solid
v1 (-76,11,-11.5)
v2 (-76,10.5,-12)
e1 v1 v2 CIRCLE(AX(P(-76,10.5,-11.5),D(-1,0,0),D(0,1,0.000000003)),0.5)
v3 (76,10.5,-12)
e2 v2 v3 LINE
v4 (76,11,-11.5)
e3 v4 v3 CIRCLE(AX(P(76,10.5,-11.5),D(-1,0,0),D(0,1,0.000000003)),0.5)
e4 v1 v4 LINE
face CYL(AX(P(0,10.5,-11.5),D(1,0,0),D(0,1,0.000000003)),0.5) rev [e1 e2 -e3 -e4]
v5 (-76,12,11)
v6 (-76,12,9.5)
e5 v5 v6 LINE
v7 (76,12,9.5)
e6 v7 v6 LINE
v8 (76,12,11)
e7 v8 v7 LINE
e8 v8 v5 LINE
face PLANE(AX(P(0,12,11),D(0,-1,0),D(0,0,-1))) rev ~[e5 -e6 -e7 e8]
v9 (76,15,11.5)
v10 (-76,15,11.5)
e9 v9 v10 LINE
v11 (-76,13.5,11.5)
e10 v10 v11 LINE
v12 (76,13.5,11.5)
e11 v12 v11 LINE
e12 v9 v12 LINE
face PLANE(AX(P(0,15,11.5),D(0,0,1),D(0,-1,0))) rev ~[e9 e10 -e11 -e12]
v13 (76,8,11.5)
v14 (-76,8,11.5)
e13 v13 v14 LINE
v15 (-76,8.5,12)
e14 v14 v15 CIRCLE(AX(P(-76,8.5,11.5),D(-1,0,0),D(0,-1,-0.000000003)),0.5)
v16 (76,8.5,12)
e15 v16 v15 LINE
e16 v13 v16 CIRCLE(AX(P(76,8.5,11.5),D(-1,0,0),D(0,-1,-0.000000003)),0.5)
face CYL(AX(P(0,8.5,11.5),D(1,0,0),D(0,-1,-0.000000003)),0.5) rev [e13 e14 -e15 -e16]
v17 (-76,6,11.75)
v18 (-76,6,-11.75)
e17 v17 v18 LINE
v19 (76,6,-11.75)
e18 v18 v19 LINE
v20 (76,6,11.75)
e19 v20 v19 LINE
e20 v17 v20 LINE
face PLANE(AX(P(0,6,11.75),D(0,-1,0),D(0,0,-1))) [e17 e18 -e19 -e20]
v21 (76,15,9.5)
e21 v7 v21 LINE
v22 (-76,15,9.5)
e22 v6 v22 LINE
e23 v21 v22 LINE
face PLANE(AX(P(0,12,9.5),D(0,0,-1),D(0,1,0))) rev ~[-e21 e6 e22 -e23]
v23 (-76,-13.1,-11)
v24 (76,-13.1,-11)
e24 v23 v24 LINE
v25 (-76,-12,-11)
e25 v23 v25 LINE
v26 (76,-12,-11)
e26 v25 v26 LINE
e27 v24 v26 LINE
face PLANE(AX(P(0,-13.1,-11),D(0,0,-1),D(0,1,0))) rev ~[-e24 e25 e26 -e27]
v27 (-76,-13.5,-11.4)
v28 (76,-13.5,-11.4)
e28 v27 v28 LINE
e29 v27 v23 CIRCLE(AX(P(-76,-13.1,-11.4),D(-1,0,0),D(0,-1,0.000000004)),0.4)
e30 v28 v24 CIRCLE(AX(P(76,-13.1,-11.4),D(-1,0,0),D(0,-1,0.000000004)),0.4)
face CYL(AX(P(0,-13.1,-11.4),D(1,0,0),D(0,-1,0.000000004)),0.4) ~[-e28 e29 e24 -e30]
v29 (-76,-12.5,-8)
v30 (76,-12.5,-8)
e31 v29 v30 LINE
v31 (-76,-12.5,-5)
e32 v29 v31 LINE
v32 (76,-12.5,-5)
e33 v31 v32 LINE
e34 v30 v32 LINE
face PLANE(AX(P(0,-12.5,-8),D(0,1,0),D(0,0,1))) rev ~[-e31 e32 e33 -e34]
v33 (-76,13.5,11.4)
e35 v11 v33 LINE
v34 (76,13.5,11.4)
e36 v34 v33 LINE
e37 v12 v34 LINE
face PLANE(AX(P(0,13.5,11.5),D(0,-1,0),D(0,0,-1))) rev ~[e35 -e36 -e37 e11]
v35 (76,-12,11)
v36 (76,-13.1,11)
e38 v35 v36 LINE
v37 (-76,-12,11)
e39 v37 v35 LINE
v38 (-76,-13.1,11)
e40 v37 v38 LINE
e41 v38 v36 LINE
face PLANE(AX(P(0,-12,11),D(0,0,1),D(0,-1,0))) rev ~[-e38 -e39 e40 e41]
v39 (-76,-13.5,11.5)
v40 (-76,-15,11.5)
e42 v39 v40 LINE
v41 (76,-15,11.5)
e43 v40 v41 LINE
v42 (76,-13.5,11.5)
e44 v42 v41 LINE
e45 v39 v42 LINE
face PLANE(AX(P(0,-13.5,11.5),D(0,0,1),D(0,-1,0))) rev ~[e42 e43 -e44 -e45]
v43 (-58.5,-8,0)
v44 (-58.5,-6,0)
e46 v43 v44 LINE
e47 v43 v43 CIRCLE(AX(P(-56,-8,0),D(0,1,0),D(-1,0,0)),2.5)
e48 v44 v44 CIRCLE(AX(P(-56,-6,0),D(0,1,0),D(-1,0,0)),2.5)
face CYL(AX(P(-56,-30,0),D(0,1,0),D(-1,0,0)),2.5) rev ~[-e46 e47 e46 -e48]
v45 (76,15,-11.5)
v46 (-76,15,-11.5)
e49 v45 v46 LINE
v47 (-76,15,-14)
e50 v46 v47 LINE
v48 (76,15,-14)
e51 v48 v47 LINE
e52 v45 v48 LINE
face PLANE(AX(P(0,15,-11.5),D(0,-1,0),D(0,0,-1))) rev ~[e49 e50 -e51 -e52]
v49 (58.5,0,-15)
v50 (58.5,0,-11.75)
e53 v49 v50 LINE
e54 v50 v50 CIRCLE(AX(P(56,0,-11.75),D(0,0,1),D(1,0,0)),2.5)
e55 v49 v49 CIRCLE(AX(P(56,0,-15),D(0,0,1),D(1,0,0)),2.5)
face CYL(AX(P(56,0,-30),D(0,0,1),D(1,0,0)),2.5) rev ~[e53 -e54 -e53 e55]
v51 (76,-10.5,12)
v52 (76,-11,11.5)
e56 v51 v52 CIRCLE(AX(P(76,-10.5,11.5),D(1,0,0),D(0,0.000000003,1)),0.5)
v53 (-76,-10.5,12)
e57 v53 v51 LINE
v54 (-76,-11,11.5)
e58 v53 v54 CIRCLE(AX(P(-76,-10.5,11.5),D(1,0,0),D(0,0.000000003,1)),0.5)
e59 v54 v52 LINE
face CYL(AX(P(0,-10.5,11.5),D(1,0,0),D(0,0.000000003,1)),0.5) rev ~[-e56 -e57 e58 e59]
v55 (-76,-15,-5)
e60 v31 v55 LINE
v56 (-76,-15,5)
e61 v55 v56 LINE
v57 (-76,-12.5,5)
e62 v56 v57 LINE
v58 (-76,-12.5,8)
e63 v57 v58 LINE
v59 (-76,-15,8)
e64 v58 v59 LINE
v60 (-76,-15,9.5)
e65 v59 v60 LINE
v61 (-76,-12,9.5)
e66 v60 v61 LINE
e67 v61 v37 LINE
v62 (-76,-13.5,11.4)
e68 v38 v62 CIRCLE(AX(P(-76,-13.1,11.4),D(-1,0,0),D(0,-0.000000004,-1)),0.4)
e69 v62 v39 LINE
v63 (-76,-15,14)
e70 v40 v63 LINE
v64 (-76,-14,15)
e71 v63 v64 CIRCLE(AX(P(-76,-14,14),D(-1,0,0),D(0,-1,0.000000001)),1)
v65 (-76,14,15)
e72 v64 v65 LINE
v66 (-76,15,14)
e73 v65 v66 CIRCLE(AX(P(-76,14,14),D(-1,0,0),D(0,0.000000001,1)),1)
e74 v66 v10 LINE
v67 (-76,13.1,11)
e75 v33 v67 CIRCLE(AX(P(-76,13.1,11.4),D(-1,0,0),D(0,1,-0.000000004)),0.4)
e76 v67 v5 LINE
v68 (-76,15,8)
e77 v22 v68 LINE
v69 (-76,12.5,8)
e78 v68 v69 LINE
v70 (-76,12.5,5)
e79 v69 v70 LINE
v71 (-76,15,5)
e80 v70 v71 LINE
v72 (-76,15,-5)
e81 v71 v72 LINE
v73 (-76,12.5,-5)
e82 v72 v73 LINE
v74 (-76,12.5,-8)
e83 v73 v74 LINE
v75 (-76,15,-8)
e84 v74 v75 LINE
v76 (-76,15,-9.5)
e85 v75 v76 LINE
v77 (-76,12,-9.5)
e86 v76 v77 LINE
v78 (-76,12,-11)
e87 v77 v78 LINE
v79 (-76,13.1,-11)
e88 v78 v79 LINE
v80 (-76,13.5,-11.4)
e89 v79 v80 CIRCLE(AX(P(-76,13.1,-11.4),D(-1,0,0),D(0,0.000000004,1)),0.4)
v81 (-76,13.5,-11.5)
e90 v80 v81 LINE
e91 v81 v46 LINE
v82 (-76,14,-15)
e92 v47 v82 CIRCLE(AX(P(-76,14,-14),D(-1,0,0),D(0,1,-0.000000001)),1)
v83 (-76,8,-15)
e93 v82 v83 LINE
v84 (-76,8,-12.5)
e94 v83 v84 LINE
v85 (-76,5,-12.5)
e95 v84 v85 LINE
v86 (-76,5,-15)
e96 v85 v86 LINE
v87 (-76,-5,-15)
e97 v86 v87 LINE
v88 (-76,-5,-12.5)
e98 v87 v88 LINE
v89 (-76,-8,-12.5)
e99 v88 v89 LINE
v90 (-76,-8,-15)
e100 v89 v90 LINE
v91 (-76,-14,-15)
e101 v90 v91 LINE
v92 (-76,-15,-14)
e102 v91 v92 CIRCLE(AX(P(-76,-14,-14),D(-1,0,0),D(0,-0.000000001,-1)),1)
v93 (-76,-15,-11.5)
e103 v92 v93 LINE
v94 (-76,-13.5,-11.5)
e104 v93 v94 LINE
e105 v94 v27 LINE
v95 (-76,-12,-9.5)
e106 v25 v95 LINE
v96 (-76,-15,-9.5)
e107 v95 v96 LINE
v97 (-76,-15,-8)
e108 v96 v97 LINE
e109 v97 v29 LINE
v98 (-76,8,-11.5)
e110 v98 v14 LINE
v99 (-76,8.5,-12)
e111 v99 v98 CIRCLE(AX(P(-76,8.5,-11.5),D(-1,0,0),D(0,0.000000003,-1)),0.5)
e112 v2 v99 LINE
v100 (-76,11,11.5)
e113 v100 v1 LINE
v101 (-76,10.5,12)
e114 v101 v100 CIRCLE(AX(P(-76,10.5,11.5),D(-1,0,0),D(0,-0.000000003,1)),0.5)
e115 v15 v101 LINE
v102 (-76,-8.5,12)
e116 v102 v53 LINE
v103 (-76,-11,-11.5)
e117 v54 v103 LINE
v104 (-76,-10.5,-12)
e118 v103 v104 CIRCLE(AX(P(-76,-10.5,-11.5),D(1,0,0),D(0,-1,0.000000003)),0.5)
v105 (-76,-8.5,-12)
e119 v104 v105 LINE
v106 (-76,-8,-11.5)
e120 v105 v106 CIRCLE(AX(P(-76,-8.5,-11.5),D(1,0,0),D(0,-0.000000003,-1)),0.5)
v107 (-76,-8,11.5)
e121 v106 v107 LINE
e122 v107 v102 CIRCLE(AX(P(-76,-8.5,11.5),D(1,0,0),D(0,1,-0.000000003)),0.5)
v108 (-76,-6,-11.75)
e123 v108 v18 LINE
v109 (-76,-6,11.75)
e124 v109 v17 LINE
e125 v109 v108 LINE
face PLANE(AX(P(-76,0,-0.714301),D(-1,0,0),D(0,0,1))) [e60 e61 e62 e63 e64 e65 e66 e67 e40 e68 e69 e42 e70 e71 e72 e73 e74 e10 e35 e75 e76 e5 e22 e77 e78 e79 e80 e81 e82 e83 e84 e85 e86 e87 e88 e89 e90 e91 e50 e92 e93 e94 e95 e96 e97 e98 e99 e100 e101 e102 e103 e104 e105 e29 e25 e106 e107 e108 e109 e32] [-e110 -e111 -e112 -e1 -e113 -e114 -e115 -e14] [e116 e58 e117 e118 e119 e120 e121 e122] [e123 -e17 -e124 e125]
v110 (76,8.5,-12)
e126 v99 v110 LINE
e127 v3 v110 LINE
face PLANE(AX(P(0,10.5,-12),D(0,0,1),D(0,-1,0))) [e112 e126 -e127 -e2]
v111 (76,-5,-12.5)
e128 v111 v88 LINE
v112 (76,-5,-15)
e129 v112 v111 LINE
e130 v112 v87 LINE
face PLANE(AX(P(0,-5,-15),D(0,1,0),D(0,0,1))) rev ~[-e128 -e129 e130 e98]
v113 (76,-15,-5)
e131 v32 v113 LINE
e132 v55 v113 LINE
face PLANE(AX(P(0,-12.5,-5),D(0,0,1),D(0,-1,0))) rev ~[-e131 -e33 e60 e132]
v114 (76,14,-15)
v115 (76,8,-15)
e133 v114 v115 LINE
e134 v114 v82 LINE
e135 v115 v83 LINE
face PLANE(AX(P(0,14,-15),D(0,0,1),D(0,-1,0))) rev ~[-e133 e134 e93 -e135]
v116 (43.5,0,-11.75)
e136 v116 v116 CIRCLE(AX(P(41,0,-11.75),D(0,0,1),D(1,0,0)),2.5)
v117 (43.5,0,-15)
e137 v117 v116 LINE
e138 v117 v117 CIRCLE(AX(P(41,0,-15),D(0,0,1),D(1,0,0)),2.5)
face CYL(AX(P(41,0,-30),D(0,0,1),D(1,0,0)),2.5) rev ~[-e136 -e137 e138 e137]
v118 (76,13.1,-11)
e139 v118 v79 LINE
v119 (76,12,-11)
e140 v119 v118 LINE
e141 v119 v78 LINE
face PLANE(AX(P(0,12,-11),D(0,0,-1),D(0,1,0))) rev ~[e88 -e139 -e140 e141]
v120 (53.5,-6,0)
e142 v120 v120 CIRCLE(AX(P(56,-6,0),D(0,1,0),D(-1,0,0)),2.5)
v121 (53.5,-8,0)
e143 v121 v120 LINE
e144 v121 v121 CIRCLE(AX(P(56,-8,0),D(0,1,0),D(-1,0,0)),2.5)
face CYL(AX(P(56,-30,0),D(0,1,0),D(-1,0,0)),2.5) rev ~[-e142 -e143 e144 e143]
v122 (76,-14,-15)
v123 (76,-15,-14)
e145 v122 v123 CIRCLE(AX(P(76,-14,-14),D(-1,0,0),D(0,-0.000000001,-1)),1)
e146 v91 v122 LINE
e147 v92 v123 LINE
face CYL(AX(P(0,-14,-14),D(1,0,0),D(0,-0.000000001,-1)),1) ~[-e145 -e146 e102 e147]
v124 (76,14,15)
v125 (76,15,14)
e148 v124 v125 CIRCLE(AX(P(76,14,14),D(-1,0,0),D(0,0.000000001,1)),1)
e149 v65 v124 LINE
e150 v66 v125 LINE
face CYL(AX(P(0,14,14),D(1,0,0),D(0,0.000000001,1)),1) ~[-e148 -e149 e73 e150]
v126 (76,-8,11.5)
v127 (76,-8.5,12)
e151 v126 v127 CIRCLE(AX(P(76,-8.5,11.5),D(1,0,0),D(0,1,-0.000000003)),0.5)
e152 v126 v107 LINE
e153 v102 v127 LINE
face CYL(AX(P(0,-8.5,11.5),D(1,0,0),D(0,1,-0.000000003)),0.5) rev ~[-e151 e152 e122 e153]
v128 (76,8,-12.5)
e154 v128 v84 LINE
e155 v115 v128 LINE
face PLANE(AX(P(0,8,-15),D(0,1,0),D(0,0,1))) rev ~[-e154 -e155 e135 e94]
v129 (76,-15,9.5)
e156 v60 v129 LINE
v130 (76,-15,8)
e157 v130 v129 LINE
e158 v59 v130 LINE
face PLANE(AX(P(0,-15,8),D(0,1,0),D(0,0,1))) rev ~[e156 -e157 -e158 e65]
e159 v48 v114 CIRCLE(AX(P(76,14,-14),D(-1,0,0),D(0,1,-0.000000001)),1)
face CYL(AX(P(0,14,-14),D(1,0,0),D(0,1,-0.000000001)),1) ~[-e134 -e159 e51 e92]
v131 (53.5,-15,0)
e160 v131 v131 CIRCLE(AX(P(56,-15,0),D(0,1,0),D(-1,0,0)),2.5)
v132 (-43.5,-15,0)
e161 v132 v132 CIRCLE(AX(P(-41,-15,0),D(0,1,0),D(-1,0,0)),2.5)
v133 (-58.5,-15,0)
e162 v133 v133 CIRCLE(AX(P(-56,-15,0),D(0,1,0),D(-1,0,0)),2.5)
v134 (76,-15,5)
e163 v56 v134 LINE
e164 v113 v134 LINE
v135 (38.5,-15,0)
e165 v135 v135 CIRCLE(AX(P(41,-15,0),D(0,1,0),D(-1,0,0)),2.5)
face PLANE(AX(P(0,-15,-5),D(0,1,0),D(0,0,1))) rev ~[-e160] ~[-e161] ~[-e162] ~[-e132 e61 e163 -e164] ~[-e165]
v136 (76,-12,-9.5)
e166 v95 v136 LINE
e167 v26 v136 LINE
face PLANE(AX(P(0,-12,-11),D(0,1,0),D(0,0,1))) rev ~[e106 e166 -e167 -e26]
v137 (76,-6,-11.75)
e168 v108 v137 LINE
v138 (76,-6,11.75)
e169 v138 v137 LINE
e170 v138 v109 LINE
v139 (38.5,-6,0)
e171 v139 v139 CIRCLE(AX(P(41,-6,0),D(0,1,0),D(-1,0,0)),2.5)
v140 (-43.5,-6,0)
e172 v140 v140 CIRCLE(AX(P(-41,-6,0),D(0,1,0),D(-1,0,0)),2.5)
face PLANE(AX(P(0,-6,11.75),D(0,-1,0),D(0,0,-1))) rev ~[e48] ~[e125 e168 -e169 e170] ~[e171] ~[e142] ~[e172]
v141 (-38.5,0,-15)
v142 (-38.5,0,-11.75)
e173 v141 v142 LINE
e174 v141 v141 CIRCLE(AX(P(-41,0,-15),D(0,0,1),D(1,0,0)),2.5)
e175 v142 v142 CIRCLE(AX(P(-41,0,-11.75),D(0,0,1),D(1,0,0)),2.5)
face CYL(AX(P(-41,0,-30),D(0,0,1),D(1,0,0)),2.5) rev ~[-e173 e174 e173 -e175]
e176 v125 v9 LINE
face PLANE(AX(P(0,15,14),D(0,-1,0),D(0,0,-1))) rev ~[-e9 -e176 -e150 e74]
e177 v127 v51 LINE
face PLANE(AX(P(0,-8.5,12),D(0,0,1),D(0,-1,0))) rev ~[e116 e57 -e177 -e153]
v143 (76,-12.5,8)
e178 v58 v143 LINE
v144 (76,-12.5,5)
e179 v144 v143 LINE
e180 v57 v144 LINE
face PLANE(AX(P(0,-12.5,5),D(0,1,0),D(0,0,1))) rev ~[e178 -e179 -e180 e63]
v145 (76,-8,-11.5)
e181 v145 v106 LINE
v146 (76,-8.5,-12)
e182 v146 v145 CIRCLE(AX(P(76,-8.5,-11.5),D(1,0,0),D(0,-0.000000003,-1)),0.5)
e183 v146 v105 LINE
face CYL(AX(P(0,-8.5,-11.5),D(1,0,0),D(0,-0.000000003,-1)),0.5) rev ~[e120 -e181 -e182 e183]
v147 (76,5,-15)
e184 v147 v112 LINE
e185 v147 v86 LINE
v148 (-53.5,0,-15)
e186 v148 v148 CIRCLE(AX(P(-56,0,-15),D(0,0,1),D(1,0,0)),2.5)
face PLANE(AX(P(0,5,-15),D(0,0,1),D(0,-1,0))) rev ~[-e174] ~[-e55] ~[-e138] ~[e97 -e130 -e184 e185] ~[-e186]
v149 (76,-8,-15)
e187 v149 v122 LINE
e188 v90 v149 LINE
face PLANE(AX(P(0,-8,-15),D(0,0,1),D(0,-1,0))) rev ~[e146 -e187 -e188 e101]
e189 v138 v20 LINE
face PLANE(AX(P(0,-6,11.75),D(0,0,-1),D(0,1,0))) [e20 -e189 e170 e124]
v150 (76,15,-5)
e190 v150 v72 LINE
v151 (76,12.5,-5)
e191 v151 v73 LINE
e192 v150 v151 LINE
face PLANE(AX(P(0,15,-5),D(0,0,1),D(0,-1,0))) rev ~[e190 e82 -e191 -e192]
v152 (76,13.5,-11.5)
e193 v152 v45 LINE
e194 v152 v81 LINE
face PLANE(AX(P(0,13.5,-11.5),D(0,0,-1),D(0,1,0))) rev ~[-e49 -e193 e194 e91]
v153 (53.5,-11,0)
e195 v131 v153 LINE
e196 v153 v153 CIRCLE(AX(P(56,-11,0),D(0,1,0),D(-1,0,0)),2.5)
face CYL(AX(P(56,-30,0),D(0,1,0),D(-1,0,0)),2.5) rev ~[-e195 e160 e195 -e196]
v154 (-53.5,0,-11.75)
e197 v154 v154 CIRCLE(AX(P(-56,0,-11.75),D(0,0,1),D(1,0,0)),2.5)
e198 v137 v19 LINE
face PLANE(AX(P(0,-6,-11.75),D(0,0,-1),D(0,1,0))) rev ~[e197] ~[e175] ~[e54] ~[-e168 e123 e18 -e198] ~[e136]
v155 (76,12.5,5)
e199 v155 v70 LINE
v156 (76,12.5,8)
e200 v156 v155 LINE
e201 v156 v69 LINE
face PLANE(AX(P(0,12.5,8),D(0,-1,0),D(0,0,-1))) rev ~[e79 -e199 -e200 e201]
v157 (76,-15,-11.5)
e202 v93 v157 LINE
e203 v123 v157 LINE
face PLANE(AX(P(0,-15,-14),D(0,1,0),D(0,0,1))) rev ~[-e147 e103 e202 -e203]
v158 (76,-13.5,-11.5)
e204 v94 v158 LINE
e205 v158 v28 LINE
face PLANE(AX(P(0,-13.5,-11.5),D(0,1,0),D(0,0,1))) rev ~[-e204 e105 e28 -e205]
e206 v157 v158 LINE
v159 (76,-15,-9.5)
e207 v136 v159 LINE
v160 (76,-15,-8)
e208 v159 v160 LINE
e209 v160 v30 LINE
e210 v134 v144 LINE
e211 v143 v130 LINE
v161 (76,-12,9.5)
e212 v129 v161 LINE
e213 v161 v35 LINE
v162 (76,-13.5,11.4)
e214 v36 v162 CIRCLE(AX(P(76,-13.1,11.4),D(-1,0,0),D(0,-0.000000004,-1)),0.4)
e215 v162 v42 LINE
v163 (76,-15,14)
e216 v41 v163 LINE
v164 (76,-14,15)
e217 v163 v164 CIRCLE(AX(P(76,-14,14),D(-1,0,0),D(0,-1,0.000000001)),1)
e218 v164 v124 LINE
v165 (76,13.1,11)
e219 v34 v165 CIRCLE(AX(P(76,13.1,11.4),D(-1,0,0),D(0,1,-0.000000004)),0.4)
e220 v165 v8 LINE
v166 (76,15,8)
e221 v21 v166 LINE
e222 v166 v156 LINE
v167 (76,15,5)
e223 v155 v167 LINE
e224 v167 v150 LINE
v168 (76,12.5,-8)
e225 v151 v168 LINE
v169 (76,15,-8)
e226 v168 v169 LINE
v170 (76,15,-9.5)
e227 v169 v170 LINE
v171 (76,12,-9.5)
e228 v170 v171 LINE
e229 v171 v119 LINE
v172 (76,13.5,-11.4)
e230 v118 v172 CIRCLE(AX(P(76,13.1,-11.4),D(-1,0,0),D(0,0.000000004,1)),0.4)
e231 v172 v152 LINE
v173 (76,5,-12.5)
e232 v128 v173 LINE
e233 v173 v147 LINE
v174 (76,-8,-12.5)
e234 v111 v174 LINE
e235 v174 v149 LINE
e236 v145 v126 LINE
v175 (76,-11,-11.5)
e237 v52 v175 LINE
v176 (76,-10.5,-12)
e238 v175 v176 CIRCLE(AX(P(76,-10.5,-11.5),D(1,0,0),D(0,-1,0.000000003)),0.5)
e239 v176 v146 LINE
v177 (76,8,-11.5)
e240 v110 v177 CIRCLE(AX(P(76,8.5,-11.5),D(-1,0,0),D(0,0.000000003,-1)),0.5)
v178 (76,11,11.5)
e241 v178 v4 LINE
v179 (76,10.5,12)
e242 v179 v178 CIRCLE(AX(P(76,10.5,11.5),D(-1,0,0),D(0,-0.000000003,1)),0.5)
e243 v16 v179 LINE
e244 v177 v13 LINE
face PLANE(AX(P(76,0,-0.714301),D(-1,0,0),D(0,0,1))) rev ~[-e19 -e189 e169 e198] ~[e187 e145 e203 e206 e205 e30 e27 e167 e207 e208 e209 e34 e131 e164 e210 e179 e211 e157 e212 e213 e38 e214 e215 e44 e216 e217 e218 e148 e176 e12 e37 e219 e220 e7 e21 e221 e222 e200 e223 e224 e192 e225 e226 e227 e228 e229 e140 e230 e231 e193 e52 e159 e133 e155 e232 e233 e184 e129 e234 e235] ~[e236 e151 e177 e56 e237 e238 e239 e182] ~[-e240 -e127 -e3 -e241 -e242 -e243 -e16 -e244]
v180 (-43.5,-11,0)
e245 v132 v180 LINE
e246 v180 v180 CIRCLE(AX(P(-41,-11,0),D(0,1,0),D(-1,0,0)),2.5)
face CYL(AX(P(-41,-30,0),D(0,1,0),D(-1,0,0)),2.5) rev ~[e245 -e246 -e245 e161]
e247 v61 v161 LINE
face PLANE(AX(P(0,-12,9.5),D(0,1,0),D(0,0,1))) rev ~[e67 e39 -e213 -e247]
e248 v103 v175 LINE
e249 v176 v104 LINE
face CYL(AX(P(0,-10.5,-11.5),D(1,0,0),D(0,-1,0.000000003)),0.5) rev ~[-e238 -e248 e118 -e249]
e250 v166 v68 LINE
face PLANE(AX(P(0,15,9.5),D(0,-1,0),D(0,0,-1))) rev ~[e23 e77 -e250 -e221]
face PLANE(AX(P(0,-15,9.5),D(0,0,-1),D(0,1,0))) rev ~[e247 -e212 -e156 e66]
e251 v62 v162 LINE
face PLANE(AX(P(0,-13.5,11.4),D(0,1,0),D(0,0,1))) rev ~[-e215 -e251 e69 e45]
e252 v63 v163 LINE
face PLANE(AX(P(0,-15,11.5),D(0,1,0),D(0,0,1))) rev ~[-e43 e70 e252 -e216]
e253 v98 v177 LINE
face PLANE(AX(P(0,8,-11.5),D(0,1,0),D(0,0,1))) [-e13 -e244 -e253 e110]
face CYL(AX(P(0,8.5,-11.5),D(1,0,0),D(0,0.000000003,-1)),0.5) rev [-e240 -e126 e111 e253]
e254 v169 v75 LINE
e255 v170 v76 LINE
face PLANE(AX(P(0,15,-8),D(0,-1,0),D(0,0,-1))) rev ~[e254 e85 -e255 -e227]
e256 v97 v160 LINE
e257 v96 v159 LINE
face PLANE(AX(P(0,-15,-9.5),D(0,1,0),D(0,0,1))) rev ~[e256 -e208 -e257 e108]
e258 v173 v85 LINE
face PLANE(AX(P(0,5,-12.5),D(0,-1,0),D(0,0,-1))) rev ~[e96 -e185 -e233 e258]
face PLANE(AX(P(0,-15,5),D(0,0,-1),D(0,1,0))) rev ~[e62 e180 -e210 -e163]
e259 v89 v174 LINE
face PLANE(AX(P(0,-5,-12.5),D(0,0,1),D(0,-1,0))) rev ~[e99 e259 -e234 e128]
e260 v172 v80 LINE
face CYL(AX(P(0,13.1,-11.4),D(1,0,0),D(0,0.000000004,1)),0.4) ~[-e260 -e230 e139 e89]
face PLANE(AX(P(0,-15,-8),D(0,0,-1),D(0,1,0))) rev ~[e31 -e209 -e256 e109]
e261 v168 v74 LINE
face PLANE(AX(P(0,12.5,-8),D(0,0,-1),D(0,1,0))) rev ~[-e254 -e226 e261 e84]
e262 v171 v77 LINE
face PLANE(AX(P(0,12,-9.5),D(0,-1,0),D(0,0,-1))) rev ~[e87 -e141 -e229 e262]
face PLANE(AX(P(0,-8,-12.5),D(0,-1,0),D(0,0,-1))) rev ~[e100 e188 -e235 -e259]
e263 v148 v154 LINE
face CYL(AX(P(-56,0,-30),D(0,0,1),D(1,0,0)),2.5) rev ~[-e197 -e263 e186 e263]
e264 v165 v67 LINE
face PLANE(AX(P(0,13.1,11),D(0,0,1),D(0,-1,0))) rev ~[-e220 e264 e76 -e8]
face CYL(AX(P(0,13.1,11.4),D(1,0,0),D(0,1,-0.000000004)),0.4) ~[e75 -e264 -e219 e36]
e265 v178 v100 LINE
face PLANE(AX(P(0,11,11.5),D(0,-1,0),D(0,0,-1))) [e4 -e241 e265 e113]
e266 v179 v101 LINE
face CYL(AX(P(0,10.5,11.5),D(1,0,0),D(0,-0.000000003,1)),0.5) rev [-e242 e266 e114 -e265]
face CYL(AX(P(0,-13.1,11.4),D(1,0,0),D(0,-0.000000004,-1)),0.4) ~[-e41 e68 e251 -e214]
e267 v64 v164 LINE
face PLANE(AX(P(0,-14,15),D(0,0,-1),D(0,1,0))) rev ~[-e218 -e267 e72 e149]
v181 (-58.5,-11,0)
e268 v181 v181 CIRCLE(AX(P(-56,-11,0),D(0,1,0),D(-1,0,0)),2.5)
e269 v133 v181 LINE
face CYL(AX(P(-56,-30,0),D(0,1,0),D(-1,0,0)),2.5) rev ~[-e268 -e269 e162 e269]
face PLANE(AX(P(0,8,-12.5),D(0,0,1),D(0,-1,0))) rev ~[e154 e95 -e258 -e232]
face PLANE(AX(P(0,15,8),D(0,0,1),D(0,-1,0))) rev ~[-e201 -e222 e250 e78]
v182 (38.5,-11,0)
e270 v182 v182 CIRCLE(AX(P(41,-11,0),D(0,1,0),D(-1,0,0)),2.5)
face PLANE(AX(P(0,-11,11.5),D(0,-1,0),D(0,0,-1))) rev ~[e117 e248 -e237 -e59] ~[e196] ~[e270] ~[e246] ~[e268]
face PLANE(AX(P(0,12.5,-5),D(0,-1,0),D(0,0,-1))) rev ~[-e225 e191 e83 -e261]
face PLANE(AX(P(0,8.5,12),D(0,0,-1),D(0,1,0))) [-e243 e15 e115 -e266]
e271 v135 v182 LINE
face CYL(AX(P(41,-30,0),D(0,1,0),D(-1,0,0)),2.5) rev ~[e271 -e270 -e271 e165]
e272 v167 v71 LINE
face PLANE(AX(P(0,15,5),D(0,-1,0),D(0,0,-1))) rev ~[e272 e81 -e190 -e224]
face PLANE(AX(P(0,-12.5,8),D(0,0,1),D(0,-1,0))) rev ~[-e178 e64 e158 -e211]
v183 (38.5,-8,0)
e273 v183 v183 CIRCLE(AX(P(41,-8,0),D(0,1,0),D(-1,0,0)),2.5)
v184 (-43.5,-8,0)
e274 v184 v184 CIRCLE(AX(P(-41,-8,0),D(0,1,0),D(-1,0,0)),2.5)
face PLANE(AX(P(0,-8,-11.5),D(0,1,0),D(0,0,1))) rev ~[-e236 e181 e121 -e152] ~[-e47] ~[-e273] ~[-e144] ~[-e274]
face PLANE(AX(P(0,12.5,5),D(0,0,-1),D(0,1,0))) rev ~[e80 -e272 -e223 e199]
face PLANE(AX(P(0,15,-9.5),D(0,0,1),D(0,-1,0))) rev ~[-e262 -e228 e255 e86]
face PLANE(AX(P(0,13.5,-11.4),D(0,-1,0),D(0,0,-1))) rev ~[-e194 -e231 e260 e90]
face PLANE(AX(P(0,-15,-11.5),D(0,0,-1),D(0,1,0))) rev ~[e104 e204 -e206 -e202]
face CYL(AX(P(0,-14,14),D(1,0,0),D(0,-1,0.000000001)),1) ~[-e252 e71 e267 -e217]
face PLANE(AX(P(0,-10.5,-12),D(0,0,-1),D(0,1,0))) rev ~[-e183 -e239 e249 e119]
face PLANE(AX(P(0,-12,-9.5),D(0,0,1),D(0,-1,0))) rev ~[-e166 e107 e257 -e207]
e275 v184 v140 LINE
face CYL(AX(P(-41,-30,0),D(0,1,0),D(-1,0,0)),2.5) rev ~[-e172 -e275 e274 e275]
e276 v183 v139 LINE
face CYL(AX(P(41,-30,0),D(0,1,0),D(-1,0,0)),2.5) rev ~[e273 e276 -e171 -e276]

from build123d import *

# Parameters (mm, degrees)
SKETCH_1_W             = 23.5
SKETCH_1_H             = 12
EXTRUDE_1_DEPTH        = 76
HOLE_WIZARD_M6_1_D     = 5
HOLE_WIZARD_M6_1_DEPTH = 15
HOLE_WIZARD_M6_1_TIP   = 1.502151548
HOLE_WIZARD_M6_2_D     = 5
HOLE_WIZARD_M6_2_DEPTH = 15
HOLE_WIZARD_M6_2_TIP   = 1.502151548


with BuildPart() as part:
    # 草图1 → 凸台-拉伸1 (new, symmetric)
    with BuildSketch(Plane(origin=(0, 0, 0), x_dir=(0, 0, -1), z_dir=(1, 0, 0))):
        with BuildLine():
            Line((-14, 15), (-11.5, 15))
            Line((-11.5, 15), (-11.5, 13.5))
            Line((-11.5, 13.5), (-11.4, 13.5))
            ThreePointArc((-11.4, 13.5), (-11.117157288, 13.382842712), (-11, 13.1))
            Line((-11, 13.1), (-11, 12))
            Line((-11, 12), (-9.5, 12))
            Line((-9.5, 12), (-9.5, 15))
            Line((-9.5, 15), (-8, 15))
            Line((-8, 15), (-8, 12.5))
            Line((-8, 12.5), (-5, 12.5))
            Line((-5, 12.5), (-5, 15))
            Line((-5, 15), (5, 15))
            Line((5, 15), (5, 12.5))
            Line((5, 12.5), (8, 12.5))
            Line((8, 12.5), (8, 15))
            Line((8, 15), (9.5, 15))
            Line((9.5, 15), (9.5, 12))
            Line((9.5, 12), (11, 12))
            Line((11, 12), (11, 13.1))
            ThreePointArc((11, 13.1), (11.117157288, 13.382842712), (11.4, 13.5))
            Line((11.4, 13.5), (11.5, 13.5))
            Line((11.5, 13.5), (11.5, 15))
            Line((11.5, 15), (14, 15))
            ThreePointArc((14, 15), (14.707106781, 14.707106781), (15, 14))
            Line((15, 14), (15, 8))
            Line((15, 8), (12.5, 8))
            Line((12.5, 8), (12.5, 5))
            Line((12.5, 5), (15, 5))
            Line((15, 5), (15, -5))
            Line((15, -5), (12.5, -5))
            Line((12.5, -5), (12.5, -8))
            Line((12.5, -8), (15, -8))
            Line((15, -8), (15, -14))
            ThreePointArc((15, -14), (14.707106781, -14.707106781), (14, -15))
            Line((14, -15), (11.5, -15))
            Line((11.5, -15), (11.5, -13.5))
            Line((11.5, -13.5), (11.4, -13.5))
            ThreePointArc((11.4, -13.5), (11.117157288, -13.382842712), (11, -13.1))
            Line((11, -13.1), (11, -12))
            Line((11, -12), (9.5, -12))
            Line((9.5, -12), (9.5, -15))
            Line((9.5, -15), (8, -15))
            Line((8, -15), (8, -12.5))
            Line((8, -12.5), (5, -12.5))
            Line((5, -12.5), (5, -15))
            Line((5, -15), (-5, -15))
            Line((-5, -15), (-5, -12.5))
            Line((-5, -12.5), (-8, -12.5))
            Line((-8, -12.5), (-8, -15))
            Line((-8, -15), (-9.5, -15))
            Line((-9.5, -15), (-9.5, -12))
            Line((-9.5, -12), (-11, -12))
            Line((-11, -12), (-11, -13.1))
            ThreePointArc((-11, -13.1), (-11.117157288, -13.382842712), (-11.4, -13.5))
            Line((-11.4, -13.5), (-11.5, -13.5))
            Line((-11.5, -13.5), (-11.5, -15))
            Line((-11.5, -15), (-14, -15))
            ThreePointArc((-14, -15), (-14.707106781, -14.707106781), (-15, -14))
            Line((-15, -14), (-15, 14))
            ThreePointArc((-15, 14), (-14.707106781, 14.707106781), (-14, 15))
        make_face()
        with BuildLine():
            Line((12, -10.5), (12, -8.5))
            ThreePointArc((12, -8.5), (11.853553391, -8.146446609), (11.5, -8))
            Line((11.5, -8), (-11.5, -8))
            ThreePointArc((-11.5, -8), (-11.853553391, -8.146446609), (-12, -8.5))
            Line((-12, -8.5), (-12, -10.5))
            ThreePointArc((-12, -10.5), (-11.853553391, -10.853553391), (-11.5, -11))
            Line((-11.5, -11), (11.5, -11))
            ThreePointArc((11.5, -11), (11.853553391, -10.853553391), (12, -10.5))
        make_face(mode=Mode.SUBTRACT)
        with BuildLine():
            Line((-11.5, 11), (11.5, 11))
            ThreePointArc((11.5, 11), (11.853553391, 10.853553391), (12, 10.5))
            Line((12, 10.5), (12, 8.5))
            ThreePointArc((12, 8.5), (11.853553391, 8.146446609), (11.5, 8))
            Line((11.5, 8), (-11.5, 8))
            ThreePointArc((-11.5, 8), (-11.853553391, 8.146446609), (-12, 8.5))
            Line((-12, 8.5), (-12, 10.5))
            ThreePointArc((-12, 10.5), (-11.853553391, 10.853553391), (-11.5, 11))
        make_face(mode=Mode.SUBTRACT)
        Rectangle(SKETCH_1_W, SKETCH_1_H, mode=Mode.SUBTRACT)
    extrude(amount=EXTRUDE_1_DEPTH, both=True)

    # M6 螺纹孔1
    with Locations(Plane(origin=(0, 0, -15), x_dir=(-1, 0, 0), z_dir=(0, 0, -1))):
        with Locations((-56, 0), (-41, 0), (41, 0), (56, 0)):
            Hole(HOLE_WIZARD_M6_1_D / 2, depth=HOLE_WIZARD_M6_1_DEPTH)
            with Locations((0, 0, -(HOLE_WIZARD_M6_1_DEPTH + HOLE_WIZARD_M6_1_TIP / 2))):  # 118° drill point
                Cone(0, HOLE_WIZARD_M6_1_D / 2, HOLE_WIZARD_M6_1_TIP, mode=Mode.SUBTRACT)

    # M6 螺纹孔2
    with Locations(Plane.XZ.offset(15)):
        with Locations((56, 0), (41, 0), (-41, 0), (-56, 0)):
            Hole(HOLE_WIZARD_M6_2_D / 2, depth=HOLE_WIZARD_M6_2_DEPTH)
            with Locations((0, 0, -(HOLE_WIZARD_M6_2_DEPTH + HOLE_WIZARD_M6_2_TIP / 2))):  # 118° drill point
                Cone(0, HOLE_WIZARD_M6_2_D / 2, HOLE_WIZARD_M6_2_TIP, mode=Mode.SUBTRACT)


solid = part.part
